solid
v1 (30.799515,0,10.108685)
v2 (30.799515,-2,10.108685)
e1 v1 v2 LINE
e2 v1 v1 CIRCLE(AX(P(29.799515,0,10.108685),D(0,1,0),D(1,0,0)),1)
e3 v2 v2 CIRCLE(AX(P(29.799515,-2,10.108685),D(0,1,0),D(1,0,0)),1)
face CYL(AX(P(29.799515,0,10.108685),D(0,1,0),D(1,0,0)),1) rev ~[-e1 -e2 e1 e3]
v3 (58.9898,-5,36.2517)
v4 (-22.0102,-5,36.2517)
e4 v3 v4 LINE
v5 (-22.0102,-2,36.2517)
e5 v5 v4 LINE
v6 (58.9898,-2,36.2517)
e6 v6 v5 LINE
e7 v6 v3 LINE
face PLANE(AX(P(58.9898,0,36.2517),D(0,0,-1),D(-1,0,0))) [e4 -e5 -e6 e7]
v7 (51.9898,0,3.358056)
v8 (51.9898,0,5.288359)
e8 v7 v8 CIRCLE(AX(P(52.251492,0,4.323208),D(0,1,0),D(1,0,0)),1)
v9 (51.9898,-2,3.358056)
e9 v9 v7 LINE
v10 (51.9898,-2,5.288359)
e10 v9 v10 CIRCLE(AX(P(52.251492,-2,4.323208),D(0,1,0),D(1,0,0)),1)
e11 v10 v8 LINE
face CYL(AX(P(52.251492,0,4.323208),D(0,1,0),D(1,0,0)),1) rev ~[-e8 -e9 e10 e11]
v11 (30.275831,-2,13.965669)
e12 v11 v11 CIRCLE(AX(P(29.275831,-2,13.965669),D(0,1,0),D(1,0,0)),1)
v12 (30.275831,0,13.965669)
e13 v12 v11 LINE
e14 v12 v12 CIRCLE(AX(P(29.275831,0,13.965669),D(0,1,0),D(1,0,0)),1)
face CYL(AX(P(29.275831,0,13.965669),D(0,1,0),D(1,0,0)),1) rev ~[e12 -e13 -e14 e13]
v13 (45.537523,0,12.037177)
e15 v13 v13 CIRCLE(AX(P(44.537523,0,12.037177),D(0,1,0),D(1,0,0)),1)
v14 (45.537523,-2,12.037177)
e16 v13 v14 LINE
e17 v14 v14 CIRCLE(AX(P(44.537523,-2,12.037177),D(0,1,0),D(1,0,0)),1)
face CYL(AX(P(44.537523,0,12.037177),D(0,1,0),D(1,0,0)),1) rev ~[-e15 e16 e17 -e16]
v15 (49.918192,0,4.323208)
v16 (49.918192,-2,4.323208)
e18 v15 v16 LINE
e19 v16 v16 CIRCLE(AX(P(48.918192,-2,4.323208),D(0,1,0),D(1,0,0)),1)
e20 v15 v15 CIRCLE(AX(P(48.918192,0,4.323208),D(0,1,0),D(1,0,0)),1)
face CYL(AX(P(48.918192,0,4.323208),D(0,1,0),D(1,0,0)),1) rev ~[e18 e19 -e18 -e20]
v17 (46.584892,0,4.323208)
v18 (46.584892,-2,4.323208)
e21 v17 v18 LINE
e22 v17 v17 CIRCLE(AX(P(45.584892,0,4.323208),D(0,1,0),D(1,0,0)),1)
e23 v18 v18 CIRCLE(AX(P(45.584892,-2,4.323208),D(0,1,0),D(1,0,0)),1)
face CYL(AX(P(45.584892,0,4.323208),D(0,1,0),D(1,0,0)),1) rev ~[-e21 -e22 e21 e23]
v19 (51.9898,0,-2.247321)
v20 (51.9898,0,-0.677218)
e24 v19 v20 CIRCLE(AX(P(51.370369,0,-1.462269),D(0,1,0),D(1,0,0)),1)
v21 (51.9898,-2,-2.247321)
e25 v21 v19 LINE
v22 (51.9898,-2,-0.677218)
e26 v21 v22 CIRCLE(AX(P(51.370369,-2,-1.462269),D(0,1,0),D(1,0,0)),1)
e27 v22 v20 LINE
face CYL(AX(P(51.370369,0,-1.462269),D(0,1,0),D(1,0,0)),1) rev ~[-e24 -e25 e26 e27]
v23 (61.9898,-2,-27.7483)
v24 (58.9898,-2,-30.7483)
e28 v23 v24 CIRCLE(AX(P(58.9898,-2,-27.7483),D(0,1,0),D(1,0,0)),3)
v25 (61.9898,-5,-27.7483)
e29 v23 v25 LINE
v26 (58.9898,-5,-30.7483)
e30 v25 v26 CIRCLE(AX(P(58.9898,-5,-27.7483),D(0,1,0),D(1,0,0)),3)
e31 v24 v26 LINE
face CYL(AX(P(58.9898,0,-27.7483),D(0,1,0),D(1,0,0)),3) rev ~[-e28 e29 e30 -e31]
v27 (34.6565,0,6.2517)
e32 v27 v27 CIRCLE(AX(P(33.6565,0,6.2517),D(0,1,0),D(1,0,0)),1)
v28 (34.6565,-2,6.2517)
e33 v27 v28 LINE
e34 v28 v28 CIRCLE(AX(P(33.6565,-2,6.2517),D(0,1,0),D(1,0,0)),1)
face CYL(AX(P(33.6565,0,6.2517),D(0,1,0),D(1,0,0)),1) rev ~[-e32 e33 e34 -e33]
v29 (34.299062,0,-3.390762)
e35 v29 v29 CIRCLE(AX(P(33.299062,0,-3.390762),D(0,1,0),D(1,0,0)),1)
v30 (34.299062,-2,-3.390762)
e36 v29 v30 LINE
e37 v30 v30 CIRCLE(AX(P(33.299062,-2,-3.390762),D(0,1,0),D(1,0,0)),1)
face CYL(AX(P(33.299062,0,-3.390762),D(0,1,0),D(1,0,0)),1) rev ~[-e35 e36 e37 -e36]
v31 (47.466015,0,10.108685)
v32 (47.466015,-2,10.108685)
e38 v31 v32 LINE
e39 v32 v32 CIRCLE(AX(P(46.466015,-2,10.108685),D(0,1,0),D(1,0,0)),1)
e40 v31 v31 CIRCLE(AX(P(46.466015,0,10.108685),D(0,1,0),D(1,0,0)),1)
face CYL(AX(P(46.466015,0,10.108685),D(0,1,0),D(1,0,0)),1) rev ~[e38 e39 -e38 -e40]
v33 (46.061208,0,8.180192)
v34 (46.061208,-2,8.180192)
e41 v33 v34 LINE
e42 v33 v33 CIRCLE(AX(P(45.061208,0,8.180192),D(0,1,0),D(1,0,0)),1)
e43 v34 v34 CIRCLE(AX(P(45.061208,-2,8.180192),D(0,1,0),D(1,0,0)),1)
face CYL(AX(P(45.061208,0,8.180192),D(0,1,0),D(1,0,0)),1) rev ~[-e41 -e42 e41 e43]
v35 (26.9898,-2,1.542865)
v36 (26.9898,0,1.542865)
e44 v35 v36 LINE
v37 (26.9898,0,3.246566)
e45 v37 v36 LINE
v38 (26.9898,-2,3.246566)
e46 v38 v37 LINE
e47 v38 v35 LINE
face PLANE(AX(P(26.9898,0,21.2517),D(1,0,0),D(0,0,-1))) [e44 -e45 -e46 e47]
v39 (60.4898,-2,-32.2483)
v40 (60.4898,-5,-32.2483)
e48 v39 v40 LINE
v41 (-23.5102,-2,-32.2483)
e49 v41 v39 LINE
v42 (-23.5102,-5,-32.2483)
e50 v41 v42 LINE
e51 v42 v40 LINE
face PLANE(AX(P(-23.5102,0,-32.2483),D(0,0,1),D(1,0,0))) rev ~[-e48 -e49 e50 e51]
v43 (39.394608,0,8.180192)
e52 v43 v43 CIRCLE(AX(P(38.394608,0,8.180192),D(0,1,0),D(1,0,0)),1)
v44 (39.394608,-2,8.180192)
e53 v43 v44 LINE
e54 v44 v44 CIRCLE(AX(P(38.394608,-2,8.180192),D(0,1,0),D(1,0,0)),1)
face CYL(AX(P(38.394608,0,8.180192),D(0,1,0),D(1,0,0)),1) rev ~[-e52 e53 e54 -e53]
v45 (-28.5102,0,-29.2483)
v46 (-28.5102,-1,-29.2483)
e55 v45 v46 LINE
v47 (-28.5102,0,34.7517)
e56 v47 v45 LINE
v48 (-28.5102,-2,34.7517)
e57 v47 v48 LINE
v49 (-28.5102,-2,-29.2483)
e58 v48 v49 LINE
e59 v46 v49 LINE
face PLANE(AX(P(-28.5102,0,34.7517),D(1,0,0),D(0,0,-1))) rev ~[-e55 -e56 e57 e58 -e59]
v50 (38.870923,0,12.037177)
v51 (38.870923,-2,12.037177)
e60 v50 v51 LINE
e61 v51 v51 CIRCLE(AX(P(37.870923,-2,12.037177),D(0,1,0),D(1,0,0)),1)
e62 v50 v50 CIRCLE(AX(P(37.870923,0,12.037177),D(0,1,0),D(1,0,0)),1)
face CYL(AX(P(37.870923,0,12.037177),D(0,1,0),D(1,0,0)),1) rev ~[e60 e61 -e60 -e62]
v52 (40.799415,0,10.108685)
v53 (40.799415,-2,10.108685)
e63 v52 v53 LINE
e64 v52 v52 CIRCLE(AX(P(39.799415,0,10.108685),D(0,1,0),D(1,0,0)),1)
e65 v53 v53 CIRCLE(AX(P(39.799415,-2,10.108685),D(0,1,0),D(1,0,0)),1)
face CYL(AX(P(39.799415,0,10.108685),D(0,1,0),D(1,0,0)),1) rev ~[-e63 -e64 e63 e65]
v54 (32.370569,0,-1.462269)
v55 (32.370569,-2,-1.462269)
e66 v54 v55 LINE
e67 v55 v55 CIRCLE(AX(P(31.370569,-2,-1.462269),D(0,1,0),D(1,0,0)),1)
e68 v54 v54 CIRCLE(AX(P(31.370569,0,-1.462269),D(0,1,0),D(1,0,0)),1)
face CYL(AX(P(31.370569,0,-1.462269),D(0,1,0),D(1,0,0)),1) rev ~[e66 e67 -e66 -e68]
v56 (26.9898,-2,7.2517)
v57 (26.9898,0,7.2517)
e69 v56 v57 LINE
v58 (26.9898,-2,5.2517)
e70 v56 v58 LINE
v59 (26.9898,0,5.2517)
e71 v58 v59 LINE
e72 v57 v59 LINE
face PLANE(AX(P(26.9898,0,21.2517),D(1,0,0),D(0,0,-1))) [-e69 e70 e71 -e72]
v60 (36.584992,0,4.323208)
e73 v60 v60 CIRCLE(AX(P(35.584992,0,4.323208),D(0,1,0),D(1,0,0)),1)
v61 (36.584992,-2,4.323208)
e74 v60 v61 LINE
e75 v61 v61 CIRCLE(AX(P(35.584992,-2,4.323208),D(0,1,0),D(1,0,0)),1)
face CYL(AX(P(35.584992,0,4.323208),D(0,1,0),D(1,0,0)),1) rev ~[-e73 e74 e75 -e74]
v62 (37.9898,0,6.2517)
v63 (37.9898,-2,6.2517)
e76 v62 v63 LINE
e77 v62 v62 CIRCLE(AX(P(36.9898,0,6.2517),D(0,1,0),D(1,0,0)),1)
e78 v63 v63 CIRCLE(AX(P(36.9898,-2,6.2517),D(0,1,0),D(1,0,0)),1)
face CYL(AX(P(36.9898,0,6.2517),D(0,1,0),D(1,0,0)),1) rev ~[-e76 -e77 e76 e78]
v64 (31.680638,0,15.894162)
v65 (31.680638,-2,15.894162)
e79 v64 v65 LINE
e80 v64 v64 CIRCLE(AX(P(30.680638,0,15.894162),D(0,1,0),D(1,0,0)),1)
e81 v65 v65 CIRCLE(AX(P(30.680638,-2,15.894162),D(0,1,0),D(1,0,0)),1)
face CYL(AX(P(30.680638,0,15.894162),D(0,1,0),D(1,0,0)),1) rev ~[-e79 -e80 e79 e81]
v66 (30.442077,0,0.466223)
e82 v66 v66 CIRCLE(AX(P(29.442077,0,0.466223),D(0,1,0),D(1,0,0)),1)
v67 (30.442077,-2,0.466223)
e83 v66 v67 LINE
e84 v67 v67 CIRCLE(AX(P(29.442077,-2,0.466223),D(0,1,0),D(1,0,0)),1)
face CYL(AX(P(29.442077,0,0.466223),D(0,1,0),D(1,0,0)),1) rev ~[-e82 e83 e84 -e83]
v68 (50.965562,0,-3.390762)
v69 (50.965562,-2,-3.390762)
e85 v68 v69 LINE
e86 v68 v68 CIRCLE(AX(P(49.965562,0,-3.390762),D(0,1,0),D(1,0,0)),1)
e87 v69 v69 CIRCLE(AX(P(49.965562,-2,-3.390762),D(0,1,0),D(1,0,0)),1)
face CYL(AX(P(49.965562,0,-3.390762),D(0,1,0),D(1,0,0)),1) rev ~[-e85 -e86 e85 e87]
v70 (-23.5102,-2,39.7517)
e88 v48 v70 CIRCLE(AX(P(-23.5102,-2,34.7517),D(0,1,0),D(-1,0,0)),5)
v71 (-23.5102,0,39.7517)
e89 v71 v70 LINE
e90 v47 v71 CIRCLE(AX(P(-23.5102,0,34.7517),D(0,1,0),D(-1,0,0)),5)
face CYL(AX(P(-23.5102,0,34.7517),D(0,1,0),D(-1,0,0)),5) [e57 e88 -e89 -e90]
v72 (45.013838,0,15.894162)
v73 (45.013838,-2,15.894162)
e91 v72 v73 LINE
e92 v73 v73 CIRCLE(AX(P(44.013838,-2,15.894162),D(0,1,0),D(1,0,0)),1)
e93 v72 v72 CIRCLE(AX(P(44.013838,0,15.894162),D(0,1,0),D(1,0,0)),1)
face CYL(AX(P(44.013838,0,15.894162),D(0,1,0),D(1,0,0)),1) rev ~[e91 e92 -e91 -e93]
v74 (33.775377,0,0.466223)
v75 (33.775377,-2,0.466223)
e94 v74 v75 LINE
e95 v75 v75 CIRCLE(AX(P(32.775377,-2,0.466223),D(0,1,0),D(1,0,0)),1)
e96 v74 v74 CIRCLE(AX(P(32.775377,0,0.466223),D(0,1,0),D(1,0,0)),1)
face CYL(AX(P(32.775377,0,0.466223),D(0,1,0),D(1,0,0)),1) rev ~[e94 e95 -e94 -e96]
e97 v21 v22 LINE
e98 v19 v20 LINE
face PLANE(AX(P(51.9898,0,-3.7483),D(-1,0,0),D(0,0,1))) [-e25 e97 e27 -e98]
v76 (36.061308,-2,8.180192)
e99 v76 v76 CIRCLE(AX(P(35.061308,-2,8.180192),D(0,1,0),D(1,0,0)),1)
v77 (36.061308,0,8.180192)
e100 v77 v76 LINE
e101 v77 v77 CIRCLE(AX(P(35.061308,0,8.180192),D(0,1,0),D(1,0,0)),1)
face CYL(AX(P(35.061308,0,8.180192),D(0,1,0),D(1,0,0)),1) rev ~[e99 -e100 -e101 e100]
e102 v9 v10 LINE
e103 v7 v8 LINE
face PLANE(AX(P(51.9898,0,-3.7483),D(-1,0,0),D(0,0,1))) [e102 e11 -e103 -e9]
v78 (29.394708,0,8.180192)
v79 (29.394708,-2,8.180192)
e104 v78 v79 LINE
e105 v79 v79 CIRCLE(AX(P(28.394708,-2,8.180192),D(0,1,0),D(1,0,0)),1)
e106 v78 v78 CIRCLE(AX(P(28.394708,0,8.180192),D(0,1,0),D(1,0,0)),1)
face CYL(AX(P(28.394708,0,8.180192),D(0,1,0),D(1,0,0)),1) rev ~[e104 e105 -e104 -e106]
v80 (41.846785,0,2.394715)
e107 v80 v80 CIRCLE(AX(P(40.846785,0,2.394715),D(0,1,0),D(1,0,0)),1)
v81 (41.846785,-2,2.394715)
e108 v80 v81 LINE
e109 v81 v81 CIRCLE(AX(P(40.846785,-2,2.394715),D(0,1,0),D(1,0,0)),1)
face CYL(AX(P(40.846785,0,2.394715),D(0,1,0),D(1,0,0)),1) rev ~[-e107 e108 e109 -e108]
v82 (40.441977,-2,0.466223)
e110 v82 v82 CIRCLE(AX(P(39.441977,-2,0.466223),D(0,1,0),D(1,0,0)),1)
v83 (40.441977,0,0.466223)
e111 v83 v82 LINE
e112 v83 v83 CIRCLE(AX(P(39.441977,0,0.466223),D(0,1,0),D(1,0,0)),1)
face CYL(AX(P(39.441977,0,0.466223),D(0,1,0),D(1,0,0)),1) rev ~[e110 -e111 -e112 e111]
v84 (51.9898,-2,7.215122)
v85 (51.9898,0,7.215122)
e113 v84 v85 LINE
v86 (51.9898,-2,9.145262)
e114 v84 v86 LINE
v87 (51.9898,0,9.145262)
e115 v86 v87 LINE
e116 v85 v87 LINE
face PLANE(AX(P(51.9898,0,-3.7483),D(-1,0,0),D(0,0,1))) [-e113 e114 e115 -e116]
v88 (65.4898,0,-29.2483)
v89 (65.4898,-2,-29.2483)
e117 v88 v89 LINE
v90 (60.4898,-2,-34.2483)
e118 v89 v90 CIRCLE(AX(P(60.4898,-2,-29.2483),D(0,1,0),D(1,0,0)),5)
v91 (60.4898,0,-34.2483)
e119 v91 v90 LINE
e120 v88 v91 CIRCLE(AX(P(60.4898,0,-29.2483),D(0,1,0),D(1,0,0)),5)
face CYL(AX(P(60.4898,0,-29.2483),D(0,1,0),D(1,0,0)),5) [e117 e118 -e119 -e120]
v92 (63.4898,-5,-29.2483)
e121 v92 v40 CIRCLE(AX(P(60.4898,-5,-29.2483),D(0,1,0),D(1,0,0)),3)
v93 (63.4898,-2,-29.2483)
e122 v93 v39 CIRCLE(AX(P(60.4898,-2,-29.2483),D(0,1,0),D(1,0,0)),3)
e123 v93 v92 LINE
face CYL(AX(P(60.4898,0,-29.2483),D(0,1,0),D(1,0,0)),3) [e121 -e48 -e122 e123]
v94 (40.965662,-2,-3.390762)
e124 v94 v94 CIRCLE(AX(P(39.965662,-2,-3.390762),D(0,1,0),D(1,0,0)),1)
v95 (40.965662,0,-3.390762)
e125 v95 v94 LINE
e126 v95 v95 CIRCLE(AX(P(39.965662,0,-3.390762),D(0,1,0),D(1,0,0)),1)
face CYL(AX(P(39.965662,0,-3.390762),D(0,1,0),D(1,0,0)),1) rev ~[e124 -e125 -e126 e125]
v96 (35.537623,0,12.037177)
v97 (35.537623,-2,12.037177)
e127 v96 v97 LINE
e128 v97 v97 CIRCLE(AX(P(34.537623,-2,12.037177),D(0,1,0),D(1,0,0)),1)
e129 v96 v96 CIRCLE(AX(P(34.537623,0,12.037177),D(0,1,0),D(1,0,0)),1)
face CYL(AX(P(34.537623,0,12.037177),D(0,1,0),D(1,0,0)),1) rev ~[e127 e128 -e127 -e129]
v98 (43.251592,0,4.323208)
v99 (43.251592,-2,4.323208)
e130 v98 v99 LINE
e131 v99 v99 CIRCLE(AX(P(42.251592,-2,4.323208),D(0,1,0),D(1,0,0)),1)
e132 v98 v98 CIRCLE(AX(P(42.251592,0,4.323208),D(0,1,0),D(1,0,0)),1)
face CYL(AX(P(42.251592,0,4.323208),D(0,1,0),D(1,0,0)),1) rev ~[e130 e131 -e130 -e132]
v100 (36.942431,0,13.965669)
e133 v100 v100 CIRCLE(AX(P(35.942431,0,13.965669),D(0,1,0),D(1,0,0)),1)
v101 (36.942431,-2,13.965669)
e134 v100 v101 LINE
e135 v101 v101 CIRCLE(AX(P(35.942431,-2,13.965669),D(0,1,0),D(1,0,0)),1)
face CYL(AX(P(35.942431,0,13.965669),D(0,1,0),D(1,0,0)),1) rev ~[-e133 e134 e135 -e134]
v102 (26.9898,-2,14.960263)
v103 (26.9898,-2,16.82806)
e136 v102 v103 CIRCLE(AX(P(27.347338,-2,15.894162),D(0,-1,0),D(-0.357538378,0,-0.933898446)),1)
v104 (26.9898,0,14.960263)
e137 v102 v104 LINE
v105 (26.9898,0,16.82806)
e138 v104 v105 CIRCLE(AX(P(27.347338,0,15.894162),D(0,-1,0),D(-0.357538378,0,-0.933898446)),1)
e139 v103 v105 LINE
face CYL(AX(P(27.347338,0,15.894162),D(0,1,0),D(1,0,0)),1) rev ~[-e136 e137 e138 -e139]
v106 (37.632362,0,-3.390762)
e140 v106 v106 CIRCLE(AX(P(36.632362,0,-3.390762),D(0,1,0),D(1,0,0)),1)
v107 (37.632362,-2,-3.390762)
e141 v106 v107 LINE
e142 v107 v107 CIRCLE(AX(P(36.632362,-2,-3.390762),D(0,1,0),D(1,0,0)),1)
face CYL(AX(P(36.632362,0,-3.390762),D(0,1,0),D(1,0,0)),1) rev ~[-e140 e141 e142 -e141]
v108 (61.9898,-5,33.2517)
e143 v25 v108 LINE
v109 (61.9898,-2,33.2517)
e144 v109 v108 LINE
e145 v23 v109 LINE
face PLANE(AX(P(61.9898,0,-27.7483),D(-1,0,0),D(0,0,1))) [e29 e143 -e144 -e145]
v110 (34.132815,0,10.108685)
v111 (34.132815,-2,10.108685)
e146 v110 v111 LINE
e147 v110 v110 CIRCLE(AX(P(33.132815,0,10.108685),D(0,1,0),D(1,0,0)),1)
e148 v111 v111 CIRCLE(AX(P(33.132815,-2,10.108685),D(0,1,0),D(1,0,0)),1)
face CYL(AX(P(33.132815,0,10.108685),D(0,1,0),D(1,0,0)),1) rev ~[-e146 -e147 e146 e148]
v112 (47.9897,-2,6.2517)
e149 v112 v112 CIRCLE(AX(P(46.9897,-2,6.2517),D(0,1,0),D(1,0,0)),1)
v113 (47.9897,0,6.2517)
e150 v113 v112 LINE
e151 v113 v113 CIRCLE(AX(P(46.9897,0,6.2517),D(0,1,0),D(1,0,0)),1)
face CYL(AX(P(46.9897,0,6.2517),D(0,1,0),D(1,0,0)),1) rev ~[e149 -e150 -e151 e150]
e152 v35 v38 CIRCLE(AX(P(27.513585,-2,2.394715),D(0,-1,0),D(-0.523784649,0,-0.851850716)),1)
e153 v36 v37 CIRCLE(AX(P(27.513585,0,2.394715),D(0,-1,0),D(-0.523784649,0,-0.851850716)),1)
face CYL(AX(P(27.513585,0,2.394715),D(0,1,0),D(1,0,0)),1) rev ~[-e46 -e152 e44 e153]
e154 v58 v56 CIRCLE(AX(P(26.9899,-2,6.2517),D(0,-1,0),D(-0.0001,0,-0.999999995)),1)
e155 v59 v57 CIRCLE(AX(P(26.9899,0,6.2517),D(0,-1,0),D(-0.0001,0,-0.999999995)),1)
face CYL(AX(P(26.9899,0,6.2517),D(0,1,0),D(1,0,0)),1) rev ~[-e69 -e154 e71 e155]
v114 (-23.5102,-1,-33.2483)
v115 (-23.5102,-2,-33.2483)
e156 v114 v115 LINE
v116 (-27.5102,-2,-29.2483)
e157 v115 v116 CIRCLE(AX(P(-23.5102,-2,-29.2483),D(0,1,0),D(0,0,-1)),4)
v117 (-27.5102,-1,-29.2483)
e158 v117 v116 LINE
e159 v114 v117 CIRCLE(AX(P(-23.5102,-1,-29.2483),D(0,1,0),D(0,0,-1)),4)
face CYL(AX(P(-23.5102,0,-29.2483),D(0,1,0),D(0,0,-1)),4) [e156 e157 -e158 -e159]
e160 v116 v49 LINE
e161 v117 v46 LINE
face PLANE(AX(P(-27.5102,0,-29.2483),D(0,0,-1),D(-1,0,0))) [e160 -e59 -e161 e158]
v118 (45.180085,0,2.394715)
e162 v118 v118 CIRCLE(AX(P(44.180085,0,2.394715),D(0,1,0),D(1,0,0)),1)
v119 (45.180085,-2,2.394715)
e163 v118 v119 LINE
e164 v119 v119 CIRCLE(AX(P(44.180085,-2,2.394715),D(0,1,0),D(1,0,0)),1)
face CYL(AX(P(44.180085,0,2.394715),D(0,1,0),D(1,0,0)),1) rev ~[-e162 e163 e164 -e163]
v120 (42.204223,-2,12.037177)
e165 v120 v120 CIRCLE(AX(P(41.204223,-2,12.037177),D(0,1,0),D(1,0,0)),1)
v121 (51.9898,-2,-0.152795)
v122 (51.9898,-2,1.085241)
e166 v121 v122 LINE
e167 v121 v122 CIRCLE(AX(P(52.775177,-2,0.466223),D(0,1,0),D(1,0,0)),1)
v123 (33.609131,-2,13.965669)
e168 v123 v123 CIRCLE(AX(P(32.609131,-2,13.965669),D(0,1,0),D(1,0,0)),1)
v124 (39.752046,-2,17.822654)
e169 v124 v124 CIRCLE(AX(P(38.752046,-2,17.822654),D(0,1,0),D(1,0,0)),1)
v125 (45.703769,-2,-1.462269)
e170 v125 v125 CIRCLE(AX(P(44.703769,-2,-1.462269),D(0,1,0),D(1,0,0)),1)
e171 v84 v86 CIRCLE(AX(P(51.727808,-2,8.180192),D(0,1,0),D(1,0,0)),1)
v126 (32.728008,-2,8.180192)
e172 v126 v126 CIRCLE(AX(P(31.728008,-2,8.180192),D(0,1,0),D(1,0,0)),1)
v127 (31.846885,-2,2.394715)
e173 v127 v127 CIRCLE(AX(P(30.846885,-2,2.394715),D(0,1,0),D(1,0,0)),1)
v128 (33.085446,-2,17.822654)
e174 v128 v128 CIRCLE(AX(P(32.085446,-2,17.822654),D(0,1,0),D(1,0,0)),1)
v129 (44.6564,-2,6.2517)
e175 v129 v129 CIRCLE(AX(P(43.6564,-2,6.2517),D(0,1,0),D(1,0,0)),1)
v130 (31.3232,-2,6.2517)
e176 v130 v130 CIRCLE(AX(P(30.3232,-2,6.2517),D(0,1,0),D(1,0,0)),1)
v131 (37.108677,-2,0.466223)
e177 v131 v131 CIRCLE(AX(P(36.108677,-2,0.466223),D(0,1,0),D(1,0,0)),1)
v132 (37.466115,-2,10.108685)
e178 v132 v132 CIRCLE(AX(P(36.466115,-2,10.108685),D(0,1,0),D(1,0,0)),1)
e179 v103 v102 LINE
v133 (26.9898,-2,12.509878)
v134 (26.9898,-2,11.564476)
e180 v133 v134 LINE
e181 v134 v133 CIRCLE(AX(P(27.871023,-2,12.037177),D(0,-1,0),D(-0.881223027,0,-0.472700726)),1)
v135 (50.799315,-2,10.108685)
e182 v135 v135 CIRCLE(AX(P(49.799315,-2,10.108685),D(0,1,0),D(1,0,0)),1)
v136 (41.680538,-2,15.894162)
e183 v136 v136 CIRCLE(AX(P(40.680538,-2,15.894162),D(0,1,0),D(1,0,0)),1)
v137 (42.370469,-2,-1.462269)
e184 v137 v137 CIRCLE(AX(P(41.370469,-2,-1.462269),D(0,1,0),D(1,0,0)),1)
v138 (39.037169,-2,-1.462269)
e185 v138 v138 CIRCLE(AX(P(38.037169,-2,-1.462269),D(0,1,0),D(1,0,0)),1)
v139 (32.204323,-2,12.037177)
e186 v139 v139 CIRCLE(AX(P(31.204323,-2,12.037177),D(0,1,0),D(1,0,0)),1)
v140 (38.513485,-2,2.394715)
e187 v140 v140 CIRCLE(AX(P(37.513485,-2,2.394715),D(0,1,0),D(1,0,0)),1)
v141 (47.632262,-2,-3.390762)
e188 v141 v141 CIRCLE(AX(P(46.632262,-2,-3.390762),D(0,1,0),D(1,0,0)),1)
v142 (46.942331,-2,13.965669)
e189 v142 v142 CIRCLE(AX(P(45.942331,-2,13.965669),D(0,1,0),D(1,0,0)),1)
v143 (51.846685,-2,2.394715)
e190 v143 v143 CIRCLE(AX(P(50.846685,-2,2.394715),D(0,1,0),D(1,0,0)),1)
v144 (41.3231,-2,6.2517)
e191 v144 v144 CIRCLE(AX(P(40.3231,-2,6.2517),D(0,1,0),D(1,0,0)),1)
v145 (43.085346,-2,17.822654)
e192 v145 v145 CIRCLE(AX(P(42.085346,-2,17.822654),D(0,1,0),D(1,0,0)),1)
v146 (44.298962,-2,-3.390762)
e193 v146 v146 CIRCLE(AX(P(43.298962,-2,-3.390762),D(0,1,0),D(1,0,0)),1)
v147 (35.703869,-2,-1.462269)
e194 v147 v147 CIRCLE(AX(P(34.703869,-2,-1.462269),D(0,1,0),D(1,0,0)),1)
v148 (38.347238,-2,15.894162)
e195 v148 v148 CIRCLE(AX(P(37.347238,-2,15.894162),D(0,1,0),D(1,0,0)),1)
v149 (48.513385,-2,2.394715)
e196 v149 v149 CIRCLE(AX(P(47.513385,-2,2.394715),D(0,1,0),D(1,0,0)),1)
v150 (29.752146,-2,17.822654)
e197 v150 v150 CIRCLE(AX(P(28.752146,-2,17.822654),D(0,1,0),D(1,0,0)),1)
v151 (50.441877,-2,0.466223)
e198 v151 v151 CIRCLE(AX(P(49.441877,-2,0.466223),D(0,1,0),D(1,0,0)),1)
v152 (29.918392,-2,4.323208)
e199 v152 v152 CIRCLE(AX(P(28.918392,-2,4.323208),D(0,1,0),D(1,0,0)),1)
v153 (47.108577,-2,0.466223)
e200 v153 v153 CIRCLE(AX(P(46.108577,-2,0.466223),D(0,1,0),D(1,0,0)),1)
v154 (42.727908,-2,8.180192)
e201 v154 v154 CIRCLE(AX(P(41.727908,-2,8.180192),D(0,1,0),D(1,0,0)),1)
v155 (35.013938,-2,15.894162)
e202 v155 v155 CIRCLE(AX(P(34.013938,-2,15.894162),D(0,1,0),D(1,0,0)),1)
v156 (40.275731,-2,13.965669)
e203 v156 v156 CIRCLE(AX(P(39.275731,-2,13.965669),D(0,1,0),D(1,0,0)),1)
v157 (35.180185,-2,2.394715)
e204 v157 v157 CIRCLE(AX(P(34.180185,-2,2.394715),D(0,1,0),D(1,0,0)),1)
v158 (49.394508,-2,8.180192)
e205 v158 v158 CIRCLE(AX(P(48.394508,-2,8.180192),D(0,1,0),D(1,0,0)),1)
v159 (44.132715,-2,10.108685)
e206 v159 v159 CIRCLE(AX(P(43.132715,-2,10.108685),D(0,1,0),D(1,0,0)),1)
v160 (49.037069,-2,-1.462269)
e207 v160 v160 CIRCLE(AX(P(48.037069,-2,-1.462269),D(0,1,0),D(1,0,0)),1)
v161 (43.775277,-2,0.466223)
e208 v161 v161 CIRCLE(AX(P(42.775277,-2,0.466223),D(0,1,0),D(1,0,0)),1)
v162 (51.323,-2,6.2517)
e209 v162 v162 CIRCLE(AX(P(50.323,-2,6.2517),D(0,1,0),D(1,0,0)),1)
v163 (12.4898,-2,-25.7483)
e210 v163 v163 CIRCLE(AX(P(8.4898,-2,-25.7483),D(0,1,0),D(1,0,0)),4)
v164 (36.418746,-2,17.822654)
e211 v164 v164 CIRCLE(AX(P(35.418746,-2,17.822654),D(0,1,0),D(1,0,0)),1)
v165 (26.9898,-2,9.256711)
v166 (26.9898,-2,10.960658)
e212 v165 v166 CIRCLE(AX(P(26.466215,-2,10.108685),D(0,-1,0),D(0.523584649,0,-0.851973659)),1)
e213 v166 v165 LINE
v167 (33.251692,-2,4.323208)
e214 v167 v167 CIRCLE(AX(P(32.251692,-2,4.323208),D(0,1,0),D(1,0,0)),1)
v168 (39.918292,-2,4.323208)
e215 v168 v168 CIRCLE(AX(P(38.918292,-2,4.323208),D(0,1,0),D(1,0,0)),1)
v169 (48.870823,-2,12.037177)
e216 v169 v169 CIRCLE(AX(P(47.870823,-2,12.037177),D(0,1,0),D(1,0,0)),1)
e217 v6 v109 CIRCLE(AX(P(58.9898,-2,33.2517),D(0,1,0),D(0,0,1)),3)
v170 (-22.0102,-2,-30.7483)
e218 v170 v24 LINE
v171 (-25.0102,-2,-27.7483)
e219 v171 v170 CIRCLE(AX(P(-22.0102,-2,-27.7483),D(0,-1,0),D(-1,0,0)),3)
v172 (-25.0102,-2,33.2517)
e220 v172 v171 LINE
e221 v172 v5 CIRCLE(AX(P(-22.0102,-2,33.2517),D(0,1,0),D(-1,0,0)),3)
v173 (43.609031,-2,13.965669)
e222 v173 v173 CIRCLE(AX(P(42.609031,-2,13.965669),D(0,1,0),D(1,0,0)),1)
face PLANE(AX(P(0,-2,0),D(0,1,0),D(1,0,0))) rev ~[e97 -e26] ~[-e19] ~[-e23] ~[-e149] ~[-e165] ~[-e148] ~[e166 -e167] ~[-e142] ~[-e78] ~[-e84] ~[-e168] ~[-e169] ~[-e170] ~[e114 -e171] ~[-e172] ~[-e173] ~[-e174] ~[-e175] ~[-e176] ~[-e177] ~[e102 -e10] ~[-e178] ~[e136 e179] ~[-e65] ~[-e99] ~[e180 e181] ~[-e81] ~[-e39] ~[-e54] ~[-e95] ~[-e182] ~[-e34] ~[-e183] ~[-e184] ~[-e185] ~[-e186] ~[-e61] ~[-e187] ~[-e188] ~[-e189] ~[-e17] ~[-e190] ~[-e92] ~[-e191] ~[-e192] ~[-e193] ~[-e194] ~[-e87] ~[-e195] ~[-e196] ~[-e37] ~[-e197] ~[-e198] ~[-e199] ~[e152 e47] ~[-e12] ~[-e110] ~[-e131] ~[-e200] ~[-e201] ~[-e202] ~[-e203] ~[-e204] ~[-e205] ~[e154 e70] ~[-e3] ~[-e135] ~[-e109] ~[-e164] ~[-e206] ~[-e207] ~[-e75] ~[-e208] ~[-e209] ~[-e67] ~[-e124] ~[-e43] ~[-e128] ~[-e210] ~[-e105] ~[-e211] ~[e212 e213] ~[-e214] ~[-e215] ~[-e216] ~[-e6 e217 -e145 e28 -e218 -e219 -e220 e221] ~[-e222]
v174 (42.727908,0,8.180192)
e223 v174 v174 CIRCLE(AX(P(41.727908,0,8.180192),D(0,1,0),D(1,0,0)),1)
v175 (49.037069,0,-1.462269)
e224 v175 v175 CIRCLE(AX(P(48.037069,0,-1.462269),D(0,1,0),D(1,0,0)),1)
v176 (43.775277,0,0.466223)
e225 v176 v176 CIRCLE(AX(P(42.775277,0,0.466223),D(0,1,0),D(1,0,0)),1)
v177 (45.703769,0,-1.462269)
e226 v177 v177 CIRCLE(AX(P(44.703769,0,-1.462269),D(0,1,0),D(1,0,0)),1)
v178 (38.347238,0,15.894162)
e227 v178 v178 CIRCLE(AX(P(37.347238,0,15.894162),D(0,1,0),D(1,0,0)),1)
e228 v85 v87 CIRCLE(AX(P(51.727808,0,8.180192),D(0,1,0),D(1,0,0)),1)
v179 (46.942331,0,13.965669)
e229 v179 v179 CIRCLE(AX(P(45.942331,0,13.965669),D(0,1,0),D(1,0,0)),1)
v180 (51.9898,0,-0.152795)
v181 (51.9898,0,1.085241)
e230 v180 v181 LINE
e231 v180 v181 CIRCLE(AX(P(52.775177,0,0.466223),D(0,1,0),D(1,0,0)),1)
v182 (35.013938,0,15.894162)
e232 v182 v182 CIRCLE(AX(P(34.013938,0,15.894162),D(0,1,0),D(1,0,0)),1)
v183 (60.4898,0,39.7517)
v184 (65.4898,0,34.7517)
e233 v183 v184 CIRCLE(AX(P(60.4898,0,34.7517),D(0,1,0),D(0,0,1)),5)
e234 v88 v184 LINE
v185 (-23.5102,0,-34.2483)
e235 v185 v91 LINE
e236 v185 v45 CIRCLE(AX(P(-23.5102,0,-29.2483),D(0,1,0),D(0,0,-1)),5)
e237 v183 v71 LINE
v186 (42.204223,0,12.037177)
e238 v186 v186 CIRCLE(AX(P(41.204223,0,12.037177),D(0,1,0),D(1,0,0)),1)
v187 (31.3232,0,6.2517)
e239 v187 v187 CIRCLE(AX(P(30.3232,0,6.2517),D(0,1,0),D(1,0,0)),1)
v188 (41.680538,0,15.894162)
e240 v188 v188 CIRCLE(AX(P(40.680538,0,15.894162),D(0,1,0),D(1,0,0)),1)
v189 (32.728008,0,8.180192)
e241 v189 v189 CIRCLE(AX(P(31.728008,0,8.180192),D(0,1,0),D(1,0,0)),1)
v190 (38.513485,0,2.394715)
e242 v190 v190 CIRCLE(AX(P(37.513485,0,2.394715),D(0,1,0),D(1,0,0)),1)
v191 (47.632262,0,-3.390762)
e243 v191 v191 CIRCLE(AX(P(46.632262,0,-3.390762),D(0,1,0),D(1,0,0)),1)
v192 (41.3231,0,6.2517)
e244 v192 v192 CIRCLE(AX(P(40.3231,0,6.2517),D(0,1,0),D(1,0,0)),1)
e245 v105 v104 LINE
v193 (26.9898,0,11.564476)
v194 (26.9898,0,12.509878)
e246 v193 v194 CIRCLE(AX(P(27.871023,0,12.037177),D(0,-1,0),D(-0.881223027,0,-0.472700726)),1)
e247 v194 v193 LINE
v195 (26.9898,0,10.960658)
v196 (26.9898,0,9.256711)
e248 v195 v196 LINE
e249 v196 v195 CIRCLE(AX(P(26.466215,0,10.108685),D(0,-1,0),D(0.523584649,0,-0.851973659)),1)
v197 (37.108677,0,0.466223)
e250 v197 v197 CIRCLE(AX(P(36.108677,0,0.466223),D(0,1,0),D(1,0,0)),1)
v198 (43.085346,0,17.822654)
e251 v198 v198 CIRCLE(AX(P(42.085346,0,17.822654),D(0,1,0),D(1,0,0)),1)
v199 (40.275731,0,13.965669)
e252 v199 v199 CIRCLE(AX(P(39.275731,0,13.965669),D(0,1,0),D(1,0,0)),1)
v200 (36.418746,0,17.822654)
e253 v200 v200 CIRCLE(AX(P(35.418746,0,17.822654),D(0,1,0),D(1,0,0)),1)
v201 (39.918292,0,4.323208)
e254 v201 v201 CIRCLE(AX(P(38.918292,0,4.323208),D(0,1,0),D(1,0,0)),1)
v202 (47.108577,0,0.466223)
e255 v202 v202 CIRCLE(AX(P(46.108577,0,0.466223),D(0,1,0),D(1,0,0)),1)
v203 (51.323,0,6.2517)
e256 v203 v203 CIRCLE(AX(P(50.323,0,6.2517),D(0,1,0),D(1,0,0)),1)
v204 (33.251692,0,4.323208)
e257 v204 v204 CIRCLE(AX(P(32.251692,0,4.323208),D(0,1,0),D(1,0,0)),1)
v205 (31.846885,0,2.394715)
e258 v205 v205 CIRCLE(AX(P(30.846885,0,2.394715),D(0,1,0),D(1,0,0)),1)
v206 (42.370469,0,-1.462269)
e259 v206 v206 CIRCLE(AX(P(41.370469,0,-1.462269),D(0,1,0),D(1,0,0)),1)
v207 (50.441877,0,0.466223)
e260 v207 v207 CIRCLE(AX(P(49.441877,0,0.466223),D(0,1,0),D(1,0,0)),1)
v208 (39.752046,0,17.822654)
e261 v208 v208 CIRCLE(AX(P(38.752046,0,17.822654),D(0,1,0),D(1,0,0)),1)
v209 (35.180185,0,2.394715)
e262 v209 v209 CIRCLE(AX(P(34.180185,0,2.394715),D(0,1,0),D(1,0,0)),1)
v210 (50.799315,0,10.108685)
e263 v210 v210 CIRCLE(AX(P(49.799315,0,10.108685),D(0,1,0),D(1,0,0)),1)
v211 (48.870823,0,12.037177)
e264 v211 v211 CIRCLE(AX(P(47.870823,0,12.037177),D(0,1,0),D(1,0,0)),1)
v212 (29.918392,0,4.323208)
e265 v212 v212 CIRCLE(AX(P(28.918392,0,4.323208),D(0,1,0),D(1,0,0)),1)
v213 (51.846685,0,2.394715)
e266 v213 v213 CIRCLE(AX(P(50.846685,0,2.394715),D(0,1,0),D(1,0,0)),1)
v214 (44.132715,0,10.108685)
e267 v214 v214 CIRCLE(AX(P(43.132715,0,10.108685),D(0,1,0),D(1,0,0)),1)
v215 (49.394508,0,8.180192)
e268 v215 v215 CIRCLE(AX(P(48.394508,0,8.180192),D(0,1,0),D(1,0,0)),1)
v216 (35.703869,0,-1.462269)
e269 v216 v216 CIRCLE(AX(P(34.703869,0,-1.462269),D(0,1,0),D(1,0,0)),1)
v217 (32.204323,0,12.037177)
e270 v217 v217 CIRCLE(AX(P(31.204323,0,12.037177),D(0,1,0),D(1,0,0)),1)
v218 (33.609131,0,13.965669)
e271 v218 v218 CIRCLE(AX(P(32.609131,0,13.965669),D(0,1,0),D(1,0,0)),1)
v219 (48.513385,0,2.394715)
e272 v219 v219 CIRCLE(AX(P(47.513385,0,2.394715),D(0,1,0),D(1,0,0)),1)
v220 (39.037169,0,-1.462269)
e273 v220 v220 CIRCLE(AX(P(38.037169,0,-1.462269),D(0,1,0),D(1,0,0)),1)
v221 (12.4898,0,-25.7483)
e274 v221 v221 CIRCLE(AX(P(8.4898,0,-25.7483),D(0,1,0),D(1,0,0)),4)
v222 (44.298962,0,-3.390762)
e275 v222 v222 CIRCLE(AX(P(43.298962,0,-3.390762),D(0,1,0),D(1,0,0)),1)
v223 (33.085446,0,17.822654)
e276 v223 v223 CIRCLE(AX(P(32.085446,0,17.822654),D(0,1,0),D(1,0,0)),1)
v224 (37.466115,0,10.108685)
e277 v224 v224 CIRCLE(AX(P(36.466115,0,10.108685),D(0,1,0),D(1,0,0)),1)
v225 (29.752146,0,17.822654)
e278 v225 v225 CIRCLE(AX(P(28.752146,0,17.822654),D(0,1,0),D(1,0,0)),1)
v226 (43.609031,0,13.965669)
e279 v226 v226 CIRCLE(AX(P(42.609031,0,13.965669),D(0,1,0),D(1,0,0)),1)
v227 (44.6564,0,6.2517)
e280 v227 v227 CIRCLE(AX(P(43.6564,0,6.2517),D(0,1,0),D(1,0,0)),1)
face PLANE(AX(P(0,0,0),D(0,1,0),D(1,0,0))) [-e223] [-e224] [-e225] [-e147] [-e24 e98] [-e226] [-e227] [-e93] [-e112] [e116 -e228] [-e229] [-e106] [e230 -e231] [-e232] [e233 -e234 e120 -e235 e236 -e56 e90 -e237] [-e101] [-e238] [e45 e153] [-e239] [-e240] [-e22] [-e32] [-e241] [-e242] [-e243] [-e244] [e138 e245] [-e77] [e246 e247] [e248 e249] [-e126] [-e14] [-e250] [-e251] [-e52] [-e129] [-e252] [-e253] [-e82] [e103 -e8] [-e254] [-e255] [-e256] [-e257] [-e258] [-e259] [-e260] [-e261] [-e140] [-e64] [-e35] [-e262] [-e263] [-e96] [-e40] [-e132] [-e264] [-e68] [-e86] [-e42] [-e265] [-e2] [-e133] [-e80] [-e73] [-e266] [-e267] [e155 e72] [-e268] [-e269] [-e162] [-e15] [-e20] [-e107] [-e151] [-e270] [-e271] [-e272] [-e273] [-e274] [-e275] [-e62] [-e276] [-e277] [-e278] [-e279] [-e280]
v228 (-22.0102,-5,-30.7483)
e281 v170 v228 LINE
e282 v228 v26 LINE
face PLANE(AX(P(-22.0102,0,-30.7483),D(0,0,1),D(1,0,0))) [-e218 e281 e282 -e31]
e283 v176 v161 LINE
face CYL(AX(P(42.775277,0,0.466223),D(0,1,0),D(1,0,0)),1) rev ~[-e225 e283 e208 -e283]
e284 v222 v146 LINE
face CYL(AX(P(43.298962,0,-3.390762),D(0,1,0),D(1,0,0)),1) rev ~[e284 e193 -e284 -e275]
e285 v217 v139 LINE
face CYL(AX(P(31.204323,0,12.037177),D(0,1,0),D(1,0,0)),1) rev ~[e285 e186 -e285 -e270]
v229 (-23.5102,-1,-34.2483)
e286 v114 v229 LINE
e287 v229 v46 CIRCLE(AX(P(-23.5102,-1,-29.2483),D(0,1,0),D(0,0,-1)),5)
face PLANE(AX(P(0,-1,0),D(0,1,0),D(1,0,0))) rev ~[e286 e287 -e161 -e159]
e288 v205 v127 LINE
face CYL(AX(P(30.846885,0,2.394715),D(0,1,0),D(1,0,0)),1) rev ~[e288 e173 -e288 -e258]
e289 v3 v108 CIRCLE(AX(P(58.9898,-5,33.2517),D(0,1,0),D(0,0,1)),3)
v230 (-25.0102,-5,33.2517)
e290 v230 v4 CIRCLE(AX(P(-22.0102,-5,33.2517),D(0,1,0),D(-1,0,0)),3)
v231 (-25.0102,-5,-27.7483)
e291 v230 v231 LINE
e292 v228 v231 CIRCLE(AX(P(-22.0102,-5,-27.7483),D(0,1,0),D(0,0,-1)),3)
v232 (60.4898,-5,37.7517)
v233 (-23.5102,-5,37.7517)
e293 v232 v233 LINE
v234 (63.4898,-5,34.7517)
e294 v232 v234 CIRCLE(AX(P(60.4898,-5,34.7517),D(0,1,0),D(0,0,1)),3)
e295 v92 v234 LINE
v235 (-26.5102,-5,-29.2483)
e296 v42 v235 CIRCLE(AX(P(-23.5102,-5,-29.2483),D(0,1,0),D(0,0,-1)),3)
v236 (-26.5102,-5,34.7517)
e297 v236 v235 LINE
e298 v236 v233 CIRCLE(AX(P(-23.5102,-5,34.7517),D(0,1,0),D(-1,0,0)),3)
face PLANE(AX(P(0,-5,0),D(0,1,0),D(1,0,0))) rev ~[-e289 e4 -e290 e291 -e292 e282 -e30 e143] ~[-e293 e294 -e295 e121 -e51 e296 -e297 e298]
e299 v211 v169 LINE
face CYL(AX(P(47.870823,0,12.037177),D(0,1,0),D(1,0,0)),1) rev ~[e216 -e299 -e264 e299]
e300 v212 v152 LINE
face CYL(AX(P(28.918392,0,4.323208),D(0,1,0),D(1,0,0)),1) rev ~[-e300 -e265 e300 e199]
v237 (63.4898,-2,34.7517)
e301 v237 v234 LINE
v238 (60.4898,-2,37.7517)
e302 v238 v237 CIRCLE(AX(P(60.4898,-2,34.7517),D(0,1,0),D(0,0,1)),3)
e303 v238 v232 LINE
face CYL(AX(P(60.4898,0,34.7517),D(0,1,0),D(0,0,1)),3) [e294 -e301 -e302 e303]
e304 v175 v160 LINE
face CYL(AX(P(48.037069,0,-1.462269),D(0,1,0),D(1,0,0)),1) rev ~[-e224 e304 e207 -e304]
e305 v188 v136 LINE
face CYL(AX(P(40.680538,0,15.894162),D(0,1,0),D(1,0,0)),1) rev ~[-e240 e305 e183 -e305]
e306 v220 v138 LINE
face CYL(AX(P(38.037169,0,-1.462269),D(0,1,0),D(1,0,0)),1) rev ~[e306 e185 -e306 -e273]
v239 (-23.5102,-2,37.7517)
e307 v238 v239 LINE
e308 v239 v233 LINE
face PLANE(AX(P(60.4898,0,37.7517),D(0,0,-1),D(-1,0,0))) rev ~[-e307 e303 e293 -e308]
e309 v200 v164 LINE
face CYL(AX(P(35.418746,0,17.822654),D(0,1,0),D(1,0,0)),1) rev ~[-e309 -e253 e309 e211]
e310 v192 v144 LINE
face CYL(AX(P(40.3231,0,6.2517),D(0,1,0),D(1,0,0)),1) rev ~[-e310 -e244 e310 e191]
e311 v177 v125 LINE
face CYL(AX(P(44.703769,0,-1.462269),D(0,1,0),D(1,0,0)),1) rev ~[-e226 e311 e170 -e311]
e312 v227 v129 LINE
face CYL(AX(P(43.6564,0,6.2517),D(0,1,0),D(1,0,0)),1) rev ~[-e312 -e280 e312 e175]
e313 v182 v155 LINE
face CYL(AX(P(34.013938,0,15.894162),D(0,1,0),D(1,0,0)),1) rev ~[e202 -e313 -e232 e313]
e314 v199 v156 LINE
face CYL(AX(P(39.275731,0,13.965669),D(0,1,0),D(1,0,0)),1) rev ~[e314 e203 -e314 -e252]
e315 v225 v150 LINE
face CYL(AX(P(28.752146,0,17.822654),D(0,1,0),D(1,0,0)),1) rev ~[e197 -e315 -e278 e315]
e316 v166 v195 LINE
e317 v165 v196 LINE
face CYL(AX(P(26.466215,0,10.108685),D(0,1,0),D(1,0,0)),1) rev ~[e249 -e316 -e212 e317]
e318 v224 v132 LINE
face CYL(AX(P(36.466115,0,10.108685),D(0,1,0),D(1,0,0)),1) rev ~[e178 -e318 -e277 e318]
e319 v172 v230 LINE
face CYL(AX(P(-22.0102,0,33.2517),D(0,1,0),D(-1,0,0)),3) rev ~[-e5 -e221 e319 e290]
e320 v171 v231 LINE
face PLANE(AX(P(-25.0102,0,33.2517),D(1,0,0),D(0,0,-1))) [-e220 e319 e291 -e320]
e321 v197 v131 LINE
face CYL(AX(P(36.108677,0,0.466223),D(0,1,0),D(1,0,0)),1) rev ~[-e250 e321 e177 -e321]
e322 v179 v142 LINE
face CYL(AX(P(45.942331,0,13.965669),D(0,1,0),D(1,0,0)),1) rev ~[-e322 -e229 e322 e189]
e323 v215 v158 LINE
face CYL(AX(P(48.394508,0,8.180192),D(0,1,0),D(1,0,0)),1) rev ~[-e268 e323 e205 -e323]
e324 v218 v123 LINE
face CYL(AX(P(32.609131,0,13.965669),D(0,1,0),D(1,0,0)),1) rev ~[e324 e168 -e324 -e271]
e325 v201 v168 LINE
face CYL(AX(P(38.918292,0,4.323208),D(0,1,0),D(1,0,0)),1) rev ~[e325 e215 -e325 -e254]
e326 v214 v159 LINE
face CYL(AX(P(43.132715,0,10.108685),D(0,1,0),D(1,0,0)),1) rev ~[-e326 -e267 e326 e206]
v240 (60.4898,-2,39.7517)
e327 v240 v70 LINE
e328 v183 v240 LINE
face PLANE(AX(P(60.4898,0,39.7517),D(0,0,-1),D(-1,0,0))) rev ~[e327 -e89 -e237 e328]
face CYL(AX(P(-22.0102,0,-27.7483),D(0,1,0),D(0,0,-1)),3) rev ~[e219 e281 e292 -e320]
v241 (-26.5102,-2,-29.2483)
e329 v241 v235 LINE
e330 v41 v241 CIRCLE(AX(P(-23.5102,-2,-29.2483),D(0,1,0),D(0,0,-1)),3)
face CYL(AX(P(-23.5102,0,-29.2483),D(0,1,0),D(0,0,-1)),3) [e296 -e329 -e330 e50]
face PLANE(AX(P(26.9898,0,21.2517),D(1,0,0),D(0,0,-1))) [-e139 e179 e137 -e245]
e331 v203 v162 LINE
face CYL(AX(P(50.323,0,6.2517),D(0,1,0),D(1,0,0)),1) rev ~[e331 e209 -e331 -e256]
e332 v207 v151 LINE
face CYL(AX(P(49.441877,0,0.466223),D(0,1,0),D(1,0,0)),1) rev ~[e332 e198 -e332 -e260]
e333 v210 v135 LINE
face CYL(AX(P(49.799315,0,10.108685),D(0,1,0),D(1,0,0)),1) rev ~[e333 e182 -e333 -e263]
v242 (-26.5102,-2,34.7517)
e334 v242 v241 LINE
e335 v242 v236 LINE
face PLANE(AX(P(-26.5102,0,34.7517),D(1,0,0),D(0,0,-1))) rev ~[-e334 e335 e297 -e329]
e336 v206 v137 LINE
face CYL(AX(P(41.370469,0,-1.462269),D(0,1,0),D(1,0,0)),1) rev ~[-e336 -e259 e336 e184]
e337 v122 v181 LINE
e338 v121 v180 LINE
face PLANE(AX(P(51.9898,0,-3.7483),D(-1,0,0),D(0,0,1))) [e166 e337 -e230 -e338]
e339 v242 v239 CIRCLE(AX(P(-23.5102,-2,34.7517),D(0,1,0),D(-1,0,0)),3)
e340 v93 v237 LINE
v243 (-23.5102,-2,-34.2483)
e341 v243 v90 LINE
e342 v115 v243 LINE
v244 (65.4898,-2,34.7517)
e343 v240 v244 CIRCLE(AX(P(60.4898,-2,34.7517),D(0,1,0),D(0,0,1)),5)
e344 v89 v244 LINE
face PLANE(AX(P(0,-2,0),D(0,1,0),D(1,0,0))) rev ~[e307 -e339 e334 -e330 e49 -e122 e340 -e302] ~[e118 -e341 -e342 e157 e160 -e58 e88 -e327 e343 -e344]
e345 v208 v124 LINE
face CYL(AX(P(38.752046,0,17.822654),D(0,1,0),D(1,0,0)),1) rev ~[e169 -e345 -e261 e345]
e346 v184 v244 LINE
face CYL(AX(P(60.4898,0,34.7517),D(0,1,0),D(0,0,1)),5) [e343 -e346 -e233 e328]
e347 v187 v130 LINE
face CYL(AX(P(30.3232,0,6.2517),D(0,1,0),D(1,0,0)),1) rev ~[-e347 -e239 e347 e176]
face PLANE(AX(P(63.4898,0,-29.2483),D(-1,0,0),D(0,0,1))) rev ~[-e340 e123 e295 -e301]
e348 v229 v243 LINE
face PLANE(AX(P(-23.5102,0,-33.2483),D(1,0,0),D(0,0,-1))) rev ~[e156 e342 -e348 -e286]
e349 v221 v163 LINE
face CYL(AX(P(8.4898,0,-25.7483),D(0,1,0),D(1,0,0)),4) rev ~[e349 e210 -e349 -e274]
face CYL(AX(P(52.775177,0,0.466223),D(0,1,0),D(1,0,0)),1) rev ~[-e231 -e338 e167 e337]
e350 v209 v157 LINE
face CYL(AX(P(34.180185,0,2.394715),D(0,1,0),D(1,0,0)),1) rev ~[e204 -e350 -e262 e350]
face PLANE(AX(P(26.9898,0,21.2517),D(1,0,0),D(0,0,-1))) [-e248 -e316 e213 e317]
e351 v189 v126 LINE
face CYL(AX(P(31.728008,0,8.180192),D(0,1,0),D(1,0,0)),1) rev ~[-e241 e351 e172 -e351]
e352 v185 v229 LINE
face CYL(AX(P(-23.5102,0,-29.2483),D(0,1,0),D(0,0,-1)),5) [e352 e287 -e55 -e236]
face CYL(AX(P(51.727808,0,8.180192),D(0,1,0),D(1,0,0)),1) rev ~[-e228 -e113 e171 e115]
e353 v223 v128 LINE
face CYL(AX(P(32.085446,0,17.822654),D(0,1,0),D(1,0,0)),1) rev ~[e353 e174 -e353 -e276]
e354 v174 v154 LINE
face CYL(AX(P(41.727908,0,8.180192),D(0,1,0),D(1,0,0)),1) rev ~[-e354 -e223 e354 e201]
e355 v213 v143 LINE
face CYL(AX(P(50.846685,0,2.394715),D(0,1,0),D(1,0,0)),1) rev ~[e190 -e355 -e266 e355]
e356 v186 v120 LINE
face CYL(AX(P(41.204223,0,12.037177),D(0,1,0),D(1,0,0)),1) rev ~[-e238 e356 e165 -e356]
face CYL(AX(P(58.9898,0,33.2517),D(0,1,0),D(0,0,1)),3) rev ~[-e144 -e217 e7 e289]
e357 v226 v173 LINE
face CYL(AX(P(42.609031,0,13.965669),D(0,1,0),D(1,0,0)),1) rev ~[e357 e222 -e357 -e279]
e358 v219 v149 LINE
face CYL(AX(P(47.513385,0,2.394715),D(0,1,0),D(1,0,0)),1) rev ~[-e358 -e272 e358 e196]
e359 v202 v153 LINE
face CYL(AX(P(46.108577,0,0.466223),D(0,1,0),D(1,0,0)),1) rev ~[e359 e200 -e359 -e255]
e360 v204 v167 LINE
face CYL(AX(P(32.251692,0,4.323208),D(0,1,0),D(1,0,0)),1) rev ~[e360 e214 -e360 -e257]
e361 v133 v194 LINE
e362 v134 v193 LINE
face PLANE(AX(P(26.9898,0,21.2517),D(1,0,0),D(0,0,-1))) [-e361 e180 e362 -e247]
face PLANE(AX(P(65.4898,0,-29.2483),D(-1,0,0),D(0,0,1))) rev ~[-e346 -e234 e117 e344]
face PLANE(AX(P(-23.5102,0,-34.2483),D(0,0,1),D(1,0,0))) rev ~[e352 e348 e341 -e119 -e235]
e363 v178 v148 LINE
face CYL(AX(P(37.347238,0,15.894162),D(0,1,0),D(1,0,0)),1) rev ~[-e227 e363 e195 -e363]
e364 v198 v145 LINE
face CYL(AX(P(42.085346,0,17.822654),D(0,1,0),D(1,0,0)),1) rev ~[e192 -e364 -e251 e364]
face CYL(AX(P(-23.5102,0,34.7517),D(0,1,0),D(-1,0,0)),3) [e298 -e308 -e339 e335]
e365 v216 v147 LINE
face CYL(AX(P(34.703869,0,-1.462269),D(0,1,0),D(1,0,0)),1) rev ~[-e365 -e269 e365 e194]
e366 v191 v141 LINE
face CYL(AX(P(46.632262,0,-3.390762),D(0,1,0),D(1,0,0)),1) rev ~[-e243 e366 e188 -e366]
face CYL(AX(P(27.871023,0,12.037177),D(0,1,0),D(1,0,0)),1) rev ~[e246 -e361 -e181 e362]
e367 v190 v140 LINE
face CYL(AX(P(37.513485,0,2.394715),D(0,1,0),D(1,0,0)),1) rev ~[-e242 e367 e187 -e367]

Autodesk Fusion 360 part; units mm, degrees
sketch "草图1" plane through (0, 0, 0) normal (0, 1, 0) x (1, 0, 0)
  arc A0 (58.9898, -36.2517) -> (61.9898, -33.2517) centre (58.9898, -33.2517) ccw
  arc A1 (60.4898, -37.7517) -> (63.4898, -34.7517) centre (60.4898, -34.7517) ccw
  arc A2 (-28.5102, -34.7517) -> (-23.5102, -39.7517) centre (-23.5102, -34.7517) ccw
  arc A3 (60.4898, -39.7517) -> (65.4898, -34.7517) centre (60.4898, -34.7517) ccw
  line L0 (36.9898, -6.2517) -> (33.7827, -9.4588) construction
  arc A4 (26.9898, -21.2517) -> (31.9898, -26.2517) centre (31.9898, -21.2517) ccw
  arc A5 (-25.0102, -33.2517) -> (-22.0102, -36.2517) centre (-22.0102, -33.2517) ccw
  arc A6 (46.9898, -26.2517) -> (51.9898, -21.2517) centre (46.9898, -21.2517) ccw
  arc A7 (-23.5102, 34.2483) -> (-28.5102, 29.2483) centre (-23.5102, 29.2483) ccw
  arc A8 (31.9898, 8.7483) -> (26.9898, 3.7483) centre (31.9898, 3.7483) ccw
  circle A9 centre (36.9898, -6.2517) radius 1
  line L1 (-23.5102, 29.2483) -> (-23.5102, 34.2483)
  arc A10 (65.4898, 29.2483) -> (60.4898, 34.2483) centre (60.4898, 29.2483) ccw
  line L2 (65.4898, 29.2483) -> (65.4898, -34.7517)
  line L3 (51.9898, 3.7483) -> (51.9898, -21.2517)
  arc A11 (-22.0102, 30.7483) -> (-25.0102, 27.7483) centre (-22.0102, 27.7483) ccw
  arc A12 (-23.5102, 33.2483) -> (-27.5102, 29.2483) centre (-23.5102, 29.2483) ccw
  line L4 (-23.5102, 29.2483) -> (-28.5102, 29.2483)
  arc A13 (-23.5102, 32.2483) -> (-26.5102, 29.2483) centre (-23.5102, 29.2483) ccw
  arc A14 (63.4898, 29.2483) -> (60.4898, 32.2483) centre (60.4898, 29.2483) ccw
  arc A15 (51.9898, 3.7483) -> (46.9898, 8.7483) centre (46.9898, 3.7483) ccw
  line L5 (36.9898, -6.2517) -> (37.9898, -6.2517) construction
  line L6 (-2.5102, 22.2483) -> (-2.5102, -27.7517)
  line L7 (31.9898, 8.7483) -> (46.9898, 8.7483)
  line L8 (46.9898, -26.2517) -> (31.9898, -26.2517)
  arc A16 (61.9898, 27.7483) -> (58.9898, 30.7483) centre (58.9898, 27.7483) ccw
  line L9 (-25.0102, -33.2517) -> (-25.0102, 27.7483)
  line L10 (60.4898, -37.7517) -> (-23.5102, -37.7517)
  line L11 (-23.5102, 34.2483) -> (60.4898, 34.2483)
  line L12 (-23.5102, 32.2483) -> (60.4898, 32.2483)
  line L13 (60.4898, -39.7517) -> (-23.5102, -39.7517)
  line L14 (-22.0102, 30.7483) -> (58.9898, 30.7483)
  line L15 (-26.5102, -34.7517) -> (-26.5102, 29.2483)
  line L16 (-17.5102, 22.2483) -> (-2.5102, 22.2483)
  arc A17 (-26.5102, -34.7517) -> (-23.5102, -37.7517) centre (-23.5102, -34.7517) ccw
  line L17 (63.4898, 29.2483) -> (63.4898, -34.7517)
  line L18 (-28.5102, -34.7517) -> (-28.5102, 29.2483)
  line L19 (-2.5102, -27.7517) -> (-17.5102, -27.7517)
  circle A18 centre (8.4898, 25.7483) radius 4
  line L20 (-17.5102, -27.7517) -> (-17.5102, 22.2483)
  line L21 (61.9898, 27.7483) -> (61.9898, -33.2517)
  line L22 (26.9898, -21.2517) -> (26.9898, 3.7483)
  line L23 (58.9898, -36.2517) -> (-22.0102, -36.2517)
  line L24 (-17.5102, 24.2483) -> (-2.5102, 24.2483)
  line L25 (-0.5102, 22.2483) -> (-0.5102, -27.7517)
  line L26 (-2.5102, -29.7517) -> (-17.5102, -29.7517)
  line L27 (-19.5102, -27.7517) -> (-19.5102, 22.2483)
  arc A19 (-17.5102, 24.2483) -> (-19.5102, 22.2483) centre (-17.5102, 22.2483) ccw
  arc A20 (-0.5102, 22.2483) -> (-2.5102, 24.2483) centre (-2.5102, 22.2483) ccw
  arc A21 (-2.5102, -29.7517) -> (-0.5102, -27.7517) centre (-2.5102, -27.7517) ccw
  arc A22 (-19.5102, -27.7517) -> (-17.5102, -29.7517) centre (-17.5102, -27.7517) ccw
  line L28 (-19.5102, 18.7483) -> (-17.5102, 18.7483)
  line L29 (-14.0102, 22.2483) -> (-14.0102, 24.2483)
  line L30 (-6.0102, 22.2483) -> (-6.0102, 24.2483)
  line L31 (-2.5102, 18.7483) -> (-0.5102, 18.7483)
  line L32 (-19.5102, -24.2517) -> (-17.5102, -24.2517)
  line L33 (-14.0102, -29.7517) -> (-14.0102, -27.7517)
  line L34 (-6.0102, -29.7517) -> (-6.0102, -27.7517)
  line L35 (-2.5102, -24.2517) -> (-0.5102, -24.2517)
  line L36 (-19.5102, -0.2517) -> (-17.5102, -0.2517)
  line L37 (-19.5102, -5.2517) -> (-17.5102, -5.2517)
  line L38 (-2.5102, -0.2517) -> (-0.5102, -0.2517)
  line L39 (-2.5102, -5.2517) -> (-0.5102, -5.2517)
  point P0 (26.9898, -26.2517)
  point P1 (26.9898, 8.7483)
  point P2 (51.9898, 8.7483)
  point P3 (-25.0102, -36.2517)
  point P4 (61.9898, 30.7483)
  point P5 (-28.5102, -39.7517)
  point P6 (-28.5102, 34.2483)
  point P7 (65.4898, 34.2483)
  point P8 (-25.0102, 30.7483)
  point P9 (63.4898, 32.2483)
  point P10 (-26.5102, -37.7517)
  point P11 (-26.5102, 32.2483)
  point P12 (-19.5102, 24.2483)
  point P13 (-0.5102, 24.2483)
  point P14 (-19.5102, -29.7517)
  dimension "d1" = 94
  dimension "d2" = 74
  dimension "d3" = 5
  dimension "d4" = 90
  dimension "d5" = 70
  dimension "d6" = 2
  dimension "d7" = 2
  dimension "d8" = 3
  dimension "d9" = 87
  dimension "d10" = 67
  dimension "d11" = 1.5
  dimension "d12" = 1.5
  dimension "d13" = 3
  dimension "d14" = 4
  dimension "d15" = 25
  dimension "d16" = 35
  dimension "d17" = 15
  dimension "d18" = 50
  dimension "d19" = 10
  dimension "d20" = 9
  dimension "d21" = 8
  dimension "d22" = 6.5
  dimension "d23" = 35
  dimension "d24" = 5
  dimension "d25" = 10
  dimension "d26" = 10
  dimension "d27" = 2
  dimension "d28" = 15
  dimension "d29" = 10
  dimension "d30" = 45
  dimension "d71" = 19
  dimension "d72" = 54
  dimension "d73" = 2
  dimension "d74" = 2
  dimension "d75" = 2
  dimension "d76" = 8
  dimension "d77" = 3.5
  dimension "d78" = 5.5
  dimension "d79" = 5.5
  dimension "d80" = 5.5
  dimension "d81" = 5.5
  dimension "d82" = 5.5
  dimension "d83" = 5.5
  dimension "d84" = 5
  dimension "d85" = 5
  dimension "d86" = 19
  dimension "d87" = 19
extrude "拉伸4" add sketch "草图1" along normal blind 0 and the other way blind 2 contours A4 A6 A8 L3 A15 L7 L8 L22 | A9 makes body 1
extrude "拉伸6" cut sketch "草图1" along normal blind 0 and the other way blind 2 contours A9 bodies 1
pattern_linear "R-阵列1" count 12 spacing 2.7273 along (-0.7071, 0, 0.7071) both ways count 10 spacing 3.3333 along (1, 0, 0) both ways of "拉伸6"
extrude "拉伸7" add sketch "草图1" along normal blind 0 and the other way blind 2 contours A0 A5 L1 A11 L4 A16 L9 L14 L21 L23 | L1 A11 L4 | A1 A2 A3 L1 A10 L2 L4 A14 L10 L11 L12 L13 L15 A17 L17 L18 | L1 A12 L4 A13 | L6 L16 L24 L25 A20 L30 L31 | L6 L16 L19 L20 | L6 L25 L31 L38 | L16 L24 L29 L30 | L6 L25 L38 L39 | L16 L20 L24 L27 A19 L28 L29 | L6 L25 L35 L39 | L6 L19 L25 L26 A21 L34 L35 | L20 L27 L28 L36 | L20 L27 L36 L37 | L19 L26 L33 L34 | L20 L27 L32 L37 | L19 L20 L26 L27 A22 L32 L33 bodies 1 makes body 2 at (32.4898, 0, -33.2483)
extrude "拉伸8" add sketch "草图1" along normal blind 0 and the other way blind 5 contours A0 A1 A5 L1 A11 L4 A14 A16 L9 L10 L12 L14 L15 A17 L17 L21 L23 | L1 A11 L4 A13 bodies 1 2
extrude "拉伸9" add sketch "草图1" along normal blind 0 and the other way blind 1 contours A7 L1 A12 L4 bodies 1
